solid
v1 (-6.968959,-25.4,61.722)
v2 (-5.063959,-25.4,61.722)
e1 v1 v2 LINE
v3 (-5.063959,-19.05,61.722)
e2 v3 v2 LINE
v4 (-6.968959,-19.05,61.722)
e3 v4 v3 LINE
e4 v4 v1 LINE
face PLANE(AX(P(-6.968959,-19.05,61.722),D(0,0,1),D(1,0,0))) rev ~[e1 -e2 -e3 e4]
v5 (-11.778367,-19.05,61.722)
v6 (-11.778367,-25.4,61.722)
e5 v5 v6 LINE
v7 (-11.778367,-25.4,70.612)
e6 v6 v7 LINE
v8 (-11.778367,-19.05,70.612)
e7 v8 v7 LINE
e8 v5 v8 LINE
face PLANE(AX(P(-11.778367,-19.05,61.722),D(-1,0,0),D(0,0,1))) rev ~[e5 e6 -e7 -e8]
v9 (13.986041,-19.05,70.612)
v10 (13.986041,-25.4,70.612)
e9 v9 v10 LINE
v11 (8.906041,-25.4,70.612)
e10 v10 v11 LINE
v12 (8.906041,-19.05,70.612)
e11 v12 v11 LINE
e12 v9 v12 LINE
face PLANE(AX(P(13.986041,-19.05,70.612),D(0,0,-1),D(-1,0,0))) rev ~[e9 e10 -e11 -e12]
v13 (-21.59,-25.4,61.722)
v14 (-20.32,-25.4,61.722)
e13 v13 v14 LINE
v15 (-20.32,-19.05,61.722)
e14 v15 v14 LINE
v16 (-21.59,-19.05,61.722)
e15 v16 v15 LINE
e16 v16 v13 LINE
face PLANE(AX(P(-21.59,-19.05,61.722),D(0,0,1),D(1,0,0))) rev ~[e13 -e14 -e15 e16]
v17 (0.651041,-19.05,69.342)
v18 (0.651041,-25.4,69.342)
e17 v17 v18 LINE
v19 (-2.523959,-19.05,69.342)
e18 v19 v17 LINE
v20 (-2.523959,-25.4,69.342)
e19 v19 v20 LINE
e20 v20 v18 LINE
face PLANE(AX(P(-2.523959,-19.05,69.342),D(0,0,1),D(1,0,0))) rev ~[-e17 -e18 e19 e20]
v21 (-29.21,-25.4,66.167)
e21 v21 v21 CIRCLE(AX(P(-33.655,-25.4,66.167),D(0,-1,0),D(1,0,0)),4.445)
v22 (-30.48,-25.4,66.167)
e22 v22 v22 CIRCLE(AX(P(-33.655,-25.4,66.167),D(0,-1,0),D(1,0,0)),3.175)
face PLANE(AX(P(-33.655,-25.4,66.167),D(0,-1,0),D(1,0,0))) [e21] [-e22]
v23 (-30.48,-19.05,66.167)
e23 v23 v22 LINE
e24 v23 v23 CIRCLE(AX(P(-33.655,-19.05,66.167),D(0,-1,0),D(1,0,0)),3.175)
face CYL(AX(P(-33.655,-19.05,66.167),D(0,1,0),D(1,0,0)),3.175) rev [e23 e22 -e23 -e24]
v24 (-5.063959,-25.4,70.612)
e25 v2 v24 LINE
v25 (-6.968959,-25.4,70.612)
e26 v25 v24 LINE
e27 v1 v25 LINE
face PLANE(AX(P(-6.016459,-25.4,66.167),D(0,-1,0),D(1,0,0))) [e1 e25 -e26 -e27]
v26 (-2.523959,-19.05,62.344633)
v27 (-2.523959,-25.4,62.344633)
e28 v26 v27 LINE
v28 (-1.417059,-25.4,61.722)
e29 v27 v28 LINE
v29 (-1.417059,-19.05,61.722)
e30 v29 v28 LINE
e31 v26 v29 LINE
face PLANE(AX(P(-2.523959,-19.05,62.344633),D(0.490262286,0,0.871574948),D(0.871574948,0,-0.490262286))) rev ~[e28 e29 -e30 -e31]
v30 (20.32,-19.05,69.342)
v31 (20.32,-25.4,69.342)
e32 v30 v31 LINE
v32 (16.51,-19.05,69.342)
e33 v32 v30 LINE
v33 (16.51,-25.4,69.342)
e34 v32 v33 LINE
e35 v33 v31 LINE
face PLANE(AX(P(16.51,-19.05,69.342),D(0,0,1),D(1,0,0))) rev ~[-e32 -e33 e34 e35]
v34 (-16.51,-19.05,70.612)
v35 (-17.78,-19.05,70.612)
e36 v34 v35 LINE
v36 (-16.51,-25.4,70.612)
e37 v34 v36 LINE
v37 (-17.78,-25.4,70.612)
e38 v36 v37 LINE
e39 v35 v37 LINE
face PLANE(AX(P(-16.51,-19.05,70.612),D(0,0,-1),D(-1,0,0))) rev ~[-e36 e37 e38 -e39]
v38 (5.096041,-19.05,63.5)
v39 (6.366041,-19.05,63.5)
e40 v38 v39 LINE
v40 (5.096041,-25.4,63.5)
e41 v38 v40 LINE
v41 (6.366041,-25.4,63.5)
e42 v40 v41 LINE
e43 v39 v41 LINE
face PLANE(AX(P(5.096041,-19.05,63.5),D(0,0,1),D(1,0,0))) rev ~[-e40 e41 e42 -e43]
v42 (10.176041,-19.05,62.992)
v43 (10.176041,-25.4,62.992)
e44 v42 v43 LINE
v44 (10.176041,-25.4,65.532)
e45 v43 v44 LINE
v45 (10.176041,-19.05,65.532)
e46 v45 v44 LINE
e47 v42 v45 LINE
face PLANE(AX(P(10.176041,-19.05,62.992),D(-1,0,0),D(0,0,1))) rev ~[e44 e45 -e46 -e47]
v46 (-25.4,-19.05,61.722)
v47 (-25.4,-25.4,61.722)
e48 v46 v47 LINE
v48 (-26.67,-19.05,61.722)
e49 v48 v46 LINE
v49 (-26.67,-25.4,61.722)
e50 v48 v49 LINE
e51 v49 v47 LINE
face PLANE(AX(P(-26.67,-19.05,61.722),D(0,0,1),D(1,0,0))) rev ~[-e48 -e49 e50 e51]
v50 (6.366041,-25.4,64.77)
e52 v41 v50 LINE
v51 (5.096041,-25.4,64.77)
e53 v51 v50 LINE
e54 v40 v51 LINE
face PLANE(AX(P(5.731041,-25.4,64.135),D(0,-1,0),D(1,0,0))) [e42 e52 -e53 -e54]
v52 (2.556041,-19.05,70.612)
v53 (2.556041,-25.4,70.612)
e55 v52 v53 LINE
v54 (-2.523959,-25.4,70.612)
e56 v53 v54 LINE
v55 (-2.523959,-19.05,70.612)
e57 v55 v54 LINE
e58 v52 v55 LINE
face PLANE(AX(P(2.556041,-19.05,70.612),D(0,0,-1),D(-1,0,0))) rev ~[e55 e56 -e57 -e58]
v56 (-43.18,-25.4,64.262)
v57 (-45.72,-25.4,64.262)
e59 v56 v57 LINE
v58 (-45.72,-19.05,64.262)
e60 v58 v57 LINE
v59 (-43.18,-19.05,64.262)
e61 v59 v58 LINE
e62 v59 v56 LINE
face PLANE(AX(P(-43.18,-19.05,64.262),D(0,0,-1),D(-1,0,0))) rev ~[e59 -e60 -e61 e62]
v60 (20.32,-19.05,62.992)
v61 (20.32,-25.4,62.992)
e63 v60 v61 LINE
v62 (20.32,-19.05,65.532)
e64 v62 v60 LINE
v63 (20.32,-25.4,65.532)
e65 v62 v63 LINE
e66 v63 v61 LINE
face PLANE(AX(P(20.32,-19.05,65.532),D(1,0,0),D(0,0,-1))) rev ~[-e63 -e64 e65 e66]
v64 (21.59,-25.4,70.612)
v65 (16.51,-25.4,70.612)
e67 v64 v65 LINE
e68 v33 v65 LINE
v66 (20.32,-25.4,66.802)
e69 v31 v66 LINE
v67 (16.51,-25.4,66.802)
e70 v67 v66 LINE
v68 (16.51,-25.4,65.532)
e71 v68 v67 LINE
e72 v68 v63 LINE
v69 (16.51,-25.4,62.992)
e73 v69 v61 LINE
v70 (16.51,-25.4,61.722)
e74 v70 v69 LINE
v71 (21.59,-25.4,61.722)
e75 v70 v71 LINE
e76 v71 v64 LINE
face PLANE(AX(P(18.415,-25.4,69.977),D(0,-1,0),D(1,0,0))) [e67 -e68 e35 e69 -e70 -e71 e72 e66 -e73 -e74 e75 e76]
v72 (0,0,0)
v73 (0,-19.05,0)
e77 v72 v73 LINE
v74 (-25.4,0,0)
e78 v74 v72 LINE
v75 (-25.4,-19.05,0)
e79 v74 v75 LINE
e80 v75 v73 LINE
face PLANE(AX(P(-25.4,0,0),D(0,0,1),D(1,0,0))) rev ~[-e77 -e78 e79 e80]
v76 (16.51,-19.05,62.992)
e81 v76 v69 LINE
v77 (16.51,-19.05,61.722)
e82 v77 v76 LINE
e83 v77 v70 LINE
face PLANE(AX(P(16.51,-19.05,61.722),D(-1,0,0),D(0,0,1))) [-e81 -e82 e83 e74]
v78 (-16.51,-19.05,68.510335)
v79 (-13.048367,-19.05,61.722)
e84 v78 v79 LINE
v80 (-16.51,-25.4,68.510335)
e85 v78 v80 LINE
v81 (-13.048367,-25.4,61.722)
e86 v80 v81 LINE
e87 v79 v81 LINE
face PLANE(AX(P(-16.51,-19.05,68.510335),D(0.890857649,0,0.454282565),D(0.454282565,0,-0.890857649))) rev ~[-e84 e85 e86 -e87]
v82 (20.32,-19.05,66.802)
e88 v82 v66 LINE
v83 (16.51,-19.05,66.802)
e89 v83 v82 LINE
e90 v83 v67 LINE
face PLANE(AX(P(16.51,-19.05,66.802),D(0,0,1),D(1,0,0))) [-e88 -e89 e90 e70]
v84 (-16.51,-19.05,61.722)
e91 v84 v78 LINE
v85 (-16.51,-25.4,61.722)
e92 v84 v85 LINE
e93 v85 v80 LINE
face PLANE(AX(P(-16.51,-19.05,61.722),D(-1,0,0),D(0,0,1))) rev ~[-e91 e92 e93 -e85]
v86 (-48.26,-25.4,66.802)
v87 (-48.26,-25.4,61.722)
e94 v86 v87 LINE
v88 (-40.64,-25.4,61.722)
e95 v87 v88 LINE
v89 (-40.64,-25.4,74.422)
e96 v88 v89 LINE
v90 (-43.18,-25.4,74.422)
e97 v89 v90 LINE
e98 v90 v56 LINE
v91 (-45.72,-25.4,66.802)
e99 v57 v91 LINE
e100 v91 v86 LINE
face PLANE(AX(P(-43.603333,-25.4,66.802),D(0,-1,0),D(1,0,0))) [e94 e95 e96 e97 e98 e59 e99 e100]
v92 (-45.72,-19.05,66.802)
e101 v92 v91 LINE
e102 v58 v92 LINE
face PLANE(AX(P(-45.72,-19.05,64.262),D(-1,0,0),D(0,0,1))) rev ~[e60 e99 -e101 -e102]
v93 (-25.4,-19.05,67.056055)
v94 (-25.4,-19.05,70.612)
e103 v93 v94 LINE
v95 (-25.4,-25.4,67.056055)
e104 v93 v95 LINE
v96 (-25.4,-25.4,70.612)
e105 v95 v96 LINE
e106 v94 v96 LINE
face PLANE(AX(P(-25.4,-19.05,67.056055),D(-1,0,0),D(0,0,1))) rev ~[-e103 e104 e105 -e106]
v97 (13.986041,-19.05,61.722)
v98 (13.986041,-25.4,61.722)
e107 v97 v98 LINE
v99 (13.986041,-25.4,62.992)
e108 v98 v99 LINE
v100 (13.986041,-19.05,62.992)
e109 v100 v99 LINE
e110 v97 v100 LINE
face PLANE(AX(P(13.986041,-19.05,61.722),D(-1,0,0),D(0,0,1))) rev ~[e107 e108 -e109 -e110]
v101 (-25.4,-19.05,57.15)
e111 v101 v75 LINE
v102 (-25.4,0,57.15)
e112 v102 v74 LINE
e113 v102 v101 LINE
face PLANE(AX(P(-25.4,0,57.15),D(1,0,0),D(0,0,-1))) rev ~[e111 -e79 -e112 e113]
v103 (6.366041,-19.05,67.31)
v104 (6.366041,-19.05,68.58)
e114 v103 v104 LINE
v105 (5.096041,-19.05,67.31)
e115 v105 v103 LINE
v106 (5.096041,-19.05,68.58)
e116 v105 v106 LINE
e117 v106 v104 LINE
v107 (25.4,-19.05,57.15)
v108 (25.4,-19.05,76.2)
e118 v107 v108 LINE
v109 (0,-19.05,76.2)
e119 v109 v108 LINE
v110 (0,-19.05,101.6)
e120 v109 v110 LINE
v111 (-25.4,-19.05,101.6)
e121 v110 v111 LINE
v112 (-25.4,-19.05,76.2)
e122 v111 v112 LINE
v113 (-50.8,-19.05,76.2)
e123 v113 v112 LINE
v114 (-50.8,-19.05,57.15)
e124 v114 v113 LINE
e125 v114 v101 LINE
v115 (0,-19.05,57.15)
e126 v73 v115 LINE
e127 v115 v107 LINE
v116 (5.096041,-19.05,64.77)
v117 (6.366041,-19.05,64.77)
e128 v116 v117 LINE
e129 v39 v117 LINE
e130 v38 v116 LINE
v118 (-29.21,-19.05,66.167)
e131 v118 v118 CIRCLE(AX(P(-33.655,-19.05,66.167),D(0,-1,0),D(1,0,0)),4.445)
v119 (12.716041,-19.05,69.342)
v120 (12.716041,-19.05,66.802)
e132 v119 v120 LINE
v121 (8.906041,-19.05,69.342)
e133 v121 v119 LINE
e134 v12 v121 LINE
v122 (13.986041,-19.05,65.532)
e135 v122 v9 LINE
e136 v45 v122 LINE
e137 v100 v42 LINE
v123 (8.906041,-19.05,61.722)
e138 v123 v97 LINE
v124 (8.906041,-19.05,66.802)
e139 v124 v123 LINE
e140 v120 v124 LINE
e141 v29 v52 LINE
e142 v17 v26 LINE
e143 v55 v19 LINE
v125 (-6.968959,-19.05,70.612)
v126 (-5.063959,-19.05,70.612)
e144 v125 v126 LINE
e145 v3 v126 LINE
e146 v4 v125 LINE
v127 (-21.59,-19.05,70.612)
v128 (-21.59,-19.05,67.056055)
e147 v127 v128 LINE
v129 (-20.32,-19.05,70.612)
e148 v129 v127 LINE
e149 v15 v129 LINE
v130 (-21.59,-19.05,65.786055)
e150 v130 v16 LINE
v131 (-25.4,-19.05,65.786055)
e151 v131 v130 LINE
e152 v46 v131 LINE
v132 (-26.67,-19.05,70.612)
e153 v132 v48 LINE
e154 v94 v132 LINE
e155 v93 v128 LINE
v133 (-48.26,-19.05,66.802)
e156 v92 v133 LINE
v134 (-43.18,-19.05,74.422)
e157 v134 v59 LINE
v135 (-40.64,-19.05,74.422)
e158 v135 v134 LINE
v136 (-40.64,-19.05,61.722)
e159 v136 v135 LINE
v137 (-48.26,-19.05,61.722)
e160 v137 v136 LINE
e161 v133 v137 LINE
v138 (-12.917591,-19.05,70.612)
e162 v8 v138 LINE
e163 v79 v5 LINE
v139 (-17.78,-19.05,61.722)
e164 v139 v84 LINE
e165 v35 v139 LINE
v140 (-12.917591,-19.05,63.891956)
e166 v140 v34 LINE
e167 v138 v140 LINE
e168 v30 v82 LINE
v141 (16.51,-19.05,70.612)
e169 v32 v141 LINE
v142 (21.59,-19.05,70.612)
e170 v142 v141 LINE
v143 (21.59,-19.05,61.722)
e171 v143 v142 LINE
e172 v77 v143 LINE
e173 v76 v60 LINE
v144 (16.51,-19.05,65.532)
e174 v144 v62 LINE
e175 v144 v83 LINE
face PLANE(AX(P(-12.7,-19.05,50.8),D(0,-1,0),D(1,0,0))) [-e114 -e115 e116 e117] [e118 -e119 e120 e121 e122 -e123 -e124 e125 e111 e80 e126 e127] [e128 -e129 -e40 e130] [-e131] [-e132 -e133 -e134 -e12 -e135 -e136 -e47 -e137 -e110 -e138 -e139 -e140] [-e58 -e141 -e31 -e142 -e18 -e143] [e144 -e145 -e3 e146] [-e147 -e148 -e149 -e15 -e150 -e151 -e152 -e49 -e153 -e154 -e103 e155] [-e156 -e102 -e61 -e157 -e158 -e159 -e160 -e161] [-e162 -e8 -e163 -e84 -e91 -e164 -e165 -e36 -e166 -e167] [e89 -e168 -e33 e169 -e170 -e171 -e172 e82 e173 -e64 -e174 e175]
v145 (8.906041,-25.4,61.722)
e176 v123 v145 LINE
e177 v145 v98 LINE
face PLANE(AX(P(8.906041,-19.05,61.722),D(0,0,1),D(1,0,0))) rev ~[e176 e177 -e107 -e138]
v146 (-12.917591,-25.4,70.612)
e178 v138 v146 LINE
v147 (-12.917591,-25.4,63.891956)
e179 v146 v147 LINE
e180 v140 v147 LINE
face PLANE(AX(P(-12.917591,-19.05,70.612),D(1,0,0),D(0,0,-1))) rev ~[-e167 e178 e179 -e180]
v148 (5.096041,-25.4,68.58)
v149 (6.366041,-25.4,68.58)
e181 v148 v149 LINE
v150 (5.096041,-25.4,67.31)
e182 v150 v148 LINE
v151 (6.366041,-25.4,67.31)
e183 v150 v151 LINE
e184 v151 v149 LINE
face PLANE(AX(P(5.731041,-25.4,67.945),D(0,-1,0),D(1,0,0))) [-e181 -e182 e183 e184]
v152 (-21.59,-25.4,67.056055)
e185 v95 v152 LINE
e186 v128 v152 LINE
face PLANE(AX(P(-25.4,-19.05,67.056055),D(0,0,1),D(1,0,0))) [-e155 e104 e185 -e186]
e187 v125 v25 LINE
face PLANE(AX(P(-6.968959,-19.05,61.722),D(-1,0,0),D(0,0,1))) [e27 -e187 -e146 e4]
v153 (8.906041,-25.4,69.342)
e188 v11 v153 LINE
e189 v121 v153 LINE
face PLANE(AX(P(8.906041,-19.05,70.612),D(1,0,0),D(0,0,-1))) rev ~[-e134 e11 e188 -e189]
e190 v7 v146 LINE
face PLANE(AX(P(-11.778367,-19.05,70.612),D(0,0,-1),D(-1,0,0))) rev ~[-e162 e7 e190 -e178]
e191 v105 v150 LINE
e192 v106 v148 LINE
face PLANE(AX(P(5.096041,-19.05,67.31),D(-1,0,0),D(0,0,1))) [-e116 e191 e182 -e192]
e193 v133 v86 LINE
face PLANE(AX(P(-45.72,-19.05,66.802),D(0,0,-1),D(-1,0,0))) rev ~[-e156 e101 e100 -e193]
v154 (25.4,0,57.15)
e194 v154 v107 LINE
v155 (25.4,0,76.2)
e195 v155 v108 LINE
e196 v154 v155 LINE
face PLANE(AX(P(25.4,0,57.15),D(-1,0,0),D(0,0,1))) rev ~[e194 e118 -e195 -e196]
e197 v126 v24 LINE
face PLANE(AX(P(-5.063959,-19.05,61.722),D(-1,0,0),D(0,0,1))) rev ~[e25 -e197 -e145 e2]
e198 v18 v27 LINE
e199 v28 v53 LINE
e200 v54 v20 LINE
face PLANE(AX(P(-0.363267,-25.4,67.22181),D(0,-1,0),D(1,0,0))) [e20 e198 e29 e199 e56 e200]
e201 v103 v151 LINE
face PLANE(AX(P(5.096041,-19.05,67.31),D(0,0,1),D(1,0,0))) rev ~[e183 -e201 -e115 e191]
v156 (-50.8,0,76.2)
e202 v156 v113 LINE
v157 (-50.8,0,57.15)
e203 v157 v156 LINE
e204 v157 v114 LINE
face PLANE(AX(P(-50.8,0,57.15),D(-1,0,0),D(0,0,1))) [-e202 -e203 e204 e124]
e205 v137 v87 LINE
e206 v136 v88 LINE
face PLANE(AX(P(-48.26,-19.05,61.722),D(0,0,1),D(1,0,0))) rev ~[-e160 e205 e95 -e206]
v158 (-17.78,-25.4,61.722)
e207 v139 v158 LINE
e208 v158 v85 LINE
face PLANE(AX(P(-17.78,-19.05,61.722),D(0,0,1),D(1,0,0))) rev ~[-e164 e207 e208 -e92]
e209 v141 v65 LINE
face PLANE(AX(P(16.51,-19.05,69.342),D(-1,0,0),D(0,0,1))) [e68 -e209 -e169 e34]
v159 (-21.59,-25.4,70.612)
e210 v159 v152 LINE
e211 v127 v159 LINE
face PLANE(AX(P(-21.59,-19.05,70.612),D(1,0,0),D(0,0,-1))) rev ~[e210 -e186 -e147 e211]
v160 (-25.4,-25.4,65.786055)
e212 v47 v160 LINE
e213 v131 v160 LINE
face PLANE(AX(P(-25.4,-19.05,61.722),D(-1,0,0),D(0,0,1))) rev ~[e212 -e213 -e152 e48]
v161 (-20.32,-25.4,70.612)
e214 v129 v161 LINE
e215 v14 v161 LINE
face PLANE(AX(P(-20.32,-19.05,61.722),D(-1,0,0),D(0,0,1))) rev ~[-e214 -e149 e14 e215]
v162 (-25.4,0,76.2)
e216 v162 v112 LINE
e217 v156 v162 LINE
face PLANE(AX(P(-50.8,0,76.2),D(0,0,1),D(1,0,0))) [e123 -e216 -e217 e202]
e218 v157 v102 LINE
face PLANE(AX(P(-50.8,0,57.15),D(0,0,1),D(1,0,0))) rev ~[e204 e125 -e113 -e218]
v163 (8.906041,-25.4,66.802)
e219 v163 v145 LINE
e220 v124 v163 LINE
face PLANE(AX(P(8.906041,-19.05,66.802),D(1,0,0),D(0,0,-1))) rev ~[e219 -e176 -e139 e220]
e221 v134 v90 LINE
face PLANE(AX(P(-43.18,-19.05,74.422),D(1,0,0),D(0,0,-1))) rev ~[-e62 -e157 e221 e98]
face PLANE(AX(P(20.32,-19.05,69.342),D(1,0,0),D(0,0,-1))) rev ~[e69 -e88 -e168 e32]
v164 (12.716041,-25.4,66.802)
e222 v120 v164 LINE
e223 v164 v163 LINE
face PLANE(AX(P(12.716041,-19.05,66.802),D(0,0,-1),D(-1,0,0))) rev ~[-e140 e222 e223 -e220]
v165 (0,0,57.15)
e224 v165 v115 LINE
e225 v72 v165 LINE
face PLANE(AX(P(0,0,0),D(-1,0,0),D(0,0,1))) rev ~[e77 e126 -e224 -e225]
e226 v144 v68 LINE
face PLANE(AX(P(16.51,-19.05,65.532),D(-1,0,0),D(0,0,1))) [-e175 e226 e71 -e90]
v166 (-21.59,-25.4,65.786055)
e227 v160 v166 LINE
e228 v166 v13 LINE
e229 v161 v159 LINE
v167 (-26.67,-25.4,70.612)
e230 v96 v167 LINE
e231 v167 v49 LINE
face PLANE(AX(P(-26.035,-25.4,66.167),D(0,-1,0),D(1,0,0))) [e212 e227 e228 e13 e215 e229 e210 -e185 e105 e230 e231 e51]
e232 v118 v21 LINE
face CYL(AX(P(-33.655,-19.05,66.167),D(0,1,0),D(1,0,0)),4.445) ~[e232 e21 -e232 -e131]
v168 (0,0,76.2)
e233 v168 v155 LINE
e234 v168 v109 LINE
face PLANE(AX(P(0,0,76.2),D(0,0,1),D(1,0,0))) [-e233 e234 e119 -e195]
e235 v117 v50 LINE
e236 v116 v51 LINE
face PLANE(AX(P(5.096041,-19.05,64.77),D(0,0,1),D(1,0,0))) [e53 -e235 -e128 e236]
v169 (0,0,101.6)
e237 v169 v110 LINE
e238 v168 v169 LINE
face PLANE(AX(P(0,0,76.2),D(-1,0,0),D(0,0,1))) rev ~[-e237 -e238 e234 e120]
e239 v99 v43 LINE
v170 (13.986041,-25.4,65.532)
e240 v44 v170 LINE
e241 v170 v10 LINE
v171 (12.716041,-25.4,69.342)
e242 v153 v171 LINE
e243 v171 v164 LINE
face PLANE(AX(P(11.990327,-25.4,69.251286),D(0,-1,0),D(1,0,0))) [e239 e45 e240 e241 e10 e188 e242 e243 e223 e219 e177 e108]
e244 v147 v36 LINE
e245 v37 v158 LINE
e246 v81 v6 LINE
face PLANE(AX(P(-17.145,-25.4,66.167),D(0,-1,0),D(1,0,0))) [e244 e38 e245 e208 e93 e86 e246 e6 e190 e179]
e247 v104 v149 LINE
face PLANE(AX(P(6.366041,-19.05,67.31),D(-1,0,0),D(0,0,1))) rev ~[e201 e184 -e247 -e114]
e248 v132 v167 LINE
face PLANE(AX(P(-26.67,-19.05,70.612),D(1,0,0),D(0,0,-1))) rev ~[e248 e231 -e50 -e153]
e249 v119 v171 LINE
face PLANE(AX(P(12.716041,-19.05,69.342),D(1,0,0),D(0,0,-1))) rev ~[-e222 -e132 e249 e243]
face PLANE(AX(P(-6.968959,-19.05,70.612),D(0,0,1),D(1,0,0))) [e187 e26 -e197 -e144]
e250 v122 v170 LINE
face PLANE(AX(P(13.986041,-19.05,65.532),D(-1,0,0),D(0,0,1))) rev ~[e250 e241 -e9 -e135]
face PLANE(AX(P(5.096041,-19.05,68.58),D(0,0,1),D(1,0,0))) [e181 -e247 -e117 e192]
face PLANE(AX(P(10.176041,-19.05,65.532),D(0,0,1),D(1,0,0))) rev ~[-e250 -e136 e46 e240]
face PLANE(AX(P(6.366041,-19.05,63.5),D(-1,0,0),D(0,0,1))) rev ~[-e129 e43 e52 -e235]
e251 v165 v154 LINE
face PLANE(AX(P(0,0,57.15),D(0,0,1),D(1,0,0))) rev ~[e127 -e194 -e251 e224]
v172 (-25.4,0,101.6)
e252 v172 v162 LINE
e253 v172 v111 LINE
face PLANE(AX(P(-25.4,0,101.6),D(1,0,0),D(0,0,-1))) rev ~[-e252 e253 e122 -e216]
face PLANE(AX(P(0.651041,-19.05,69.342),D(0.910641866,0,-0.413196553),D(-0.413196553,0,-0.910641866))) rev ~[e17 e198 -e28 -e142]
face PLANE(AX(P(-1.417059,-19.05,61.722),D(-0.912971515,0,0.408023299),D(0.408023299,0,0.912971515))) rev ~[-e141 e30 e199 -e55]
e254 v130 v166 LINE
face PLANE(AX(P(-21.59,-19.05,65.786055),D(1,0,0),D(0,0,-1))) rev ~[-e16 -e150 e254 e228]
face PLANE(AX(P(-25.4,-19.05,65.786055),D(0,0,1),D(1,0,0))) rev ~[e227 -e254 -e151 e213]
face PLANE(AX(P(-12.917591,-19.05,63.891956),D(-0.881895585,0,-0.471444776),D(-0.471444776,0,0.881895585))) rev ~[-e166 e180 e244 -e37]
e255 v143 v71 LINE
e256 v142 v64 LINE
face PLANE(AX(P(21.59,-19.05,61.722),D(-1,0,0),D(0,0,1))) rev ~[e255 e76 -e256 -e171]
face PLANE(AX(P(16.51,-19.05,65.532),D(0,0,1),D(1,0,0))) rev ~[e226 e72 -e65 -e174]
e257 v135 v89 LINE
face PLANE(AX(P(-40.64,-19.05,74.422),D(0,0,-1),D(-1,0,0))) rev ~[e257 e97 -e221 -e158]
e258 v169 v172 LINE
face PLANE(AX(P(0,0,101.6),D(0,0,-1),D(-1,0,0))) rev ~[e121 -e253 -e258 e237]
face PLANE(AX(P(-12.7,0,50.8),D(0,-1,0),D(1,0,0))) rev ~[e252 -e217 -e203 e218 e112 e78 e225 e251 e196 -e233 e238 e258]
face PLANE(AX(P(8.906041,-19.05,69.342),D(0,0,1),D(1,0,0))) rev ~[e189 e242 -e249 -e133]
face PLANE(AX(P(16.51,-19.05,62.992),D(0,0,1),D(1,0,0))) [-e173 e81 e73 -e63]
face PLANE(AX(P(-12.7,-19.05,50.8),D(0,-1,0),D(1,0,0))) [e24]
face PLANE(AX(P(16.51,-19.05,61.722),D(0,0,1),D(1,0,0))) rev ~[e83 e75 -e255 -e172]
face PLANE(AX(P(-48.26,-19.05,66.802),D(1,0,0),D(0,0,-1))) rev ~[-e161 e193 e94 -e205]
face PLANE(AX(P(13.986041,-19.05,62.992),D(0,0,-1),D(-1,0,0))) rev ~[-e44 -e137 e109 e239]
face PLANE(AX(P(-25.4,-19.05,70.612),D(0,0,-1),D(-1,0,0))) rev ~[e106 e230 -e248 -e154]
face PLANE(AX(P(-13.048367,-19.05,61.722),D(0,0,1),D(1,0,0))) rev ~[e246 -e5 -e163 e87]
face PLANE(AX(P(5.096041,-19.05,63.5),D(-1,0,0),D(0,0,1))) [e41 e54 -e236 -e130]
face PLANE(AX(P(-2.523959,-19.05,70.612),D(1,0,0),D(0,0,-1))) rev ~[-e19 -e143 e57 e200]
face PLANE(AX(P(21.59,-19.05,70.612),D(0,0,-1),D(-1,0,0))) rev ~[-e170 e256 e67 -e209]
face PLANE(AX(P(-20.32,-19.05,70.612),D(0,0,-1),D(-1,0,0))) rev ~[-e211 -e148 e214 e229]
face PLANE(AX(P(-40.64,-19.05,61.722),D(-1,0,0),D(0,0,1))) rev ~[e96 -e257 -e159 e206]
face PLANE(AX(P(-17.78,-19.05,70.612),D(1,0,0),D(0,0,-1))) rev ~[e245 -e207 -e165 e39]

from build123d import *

# Parameters (mm, degrees)
F0_W      = 25.4
F0_H      = 19.05
F1_DEPTH  = 19.05
F4_DEPTH  = 6.35
F5_R      = 4.445
F5_R_2    = 3.175
F6_DEPTH  = 6.35
F7_W      = 3.81
F7_H      = 1.27
F8_DEPTH  = 6.35
F10_DEPTH = 6.35
F11_W     = 1.905
F11_H     = 8.89
F12_DEPTH = 6.35
F14_DEPTH = 6.35
F15_W     = 1.27
F15_H     = 1.27
F16_DEPTH = 6.35
F18_DEPTH = 6.35
F19_W     = 3.81
F19_H     = 1.27
F20_DEPTH = 6.35


with BuildPart() as f1:
    # F0 (on Front) → F1 (new body)
    with BuildSketch(Plane.XZ):
        Polygon((-25.4, 0), (0, 0), (0, 57.15), (0, 76.2), (0, 101.6), (-25.4, 101.6), (-25.4, 76.2), (-25.4, 57.15), align=None)
        with Locations((12.7, 66.675)):
            Rectangle(F0_W, F0_H)
        with Locations((-38.1, 66.675)):
            Rectangle(F0_W, F0_H)
    extrude(amount=F1_DEPTH)

    # F3 (on offset) → F4 (join)
    with BuildSketch(Plane.XZ.offset(19.05)):
        Polygon((-45.72, 66.802), (-48.26, 66.802), (-48.26, 61.722), (-40.64, 61.722), (-40.64, 74.422), (-43.18, 74.422), (-43.18, 64.262), (-45.72, 64.262), align=None)
    extrude(amount=F4_DEPTH)

    # F5 (on offset) → F6 (join)
    with BuildSketch(Plane.XZ.offset(19.05)):
        with Locations((-33.655, 66.167)):
            Circle(F5_R)
        with Locations((-33.655, 66.167)):
            Circle(F5_R_2, mode=Mode.SUBTRACT)
    extrude(amount=F6_DEPTH)

    # F7 (on offset) → F8 (join)
    with BuildSketch(Plane.XZ.offset(19.05)):
        Polygon((-25.4, 70.612), (-26.67, 70.612), (-26.67, 61.722), (-25.4, 61.722), (-25.4, 65.786055), (-25.4, 67.056055), align=None)
        with Locations((-23.495, 66.421055)):
            Rectangle(F7_W, F7_H)
        Polygon((-21.59, 70.612), (-21.59, 67.056055), (-21.59, 65.786055), (-21.59, 61.722), (-20.32, 61.722), (-20.32, 70.612), align=None)
    extrude(amount=F8_DEPTH)

    # F9 (on offset) → F10 (join)
    with BuildSketch(Plane.XZ.offset(19.05)):
        Polygon((-17.78, 70.612), (-17.78, 61.722), (-16.51, 61.722), (-16.51, 68.510335), (-16.51, 70.612), align=None)
        Polygon((-12.917591, 63.891956), (-16.51, 70.612), (-16.51, 68.510335), (-13.048367, 61.722), (-12.917591, 61.722), align=None)
        Polygon((-12.917591, 70.612), (-12.917591, 63.891956), (-12.917591, 61.722), (-11.778367, 61.722), (-11.778367, 70.612), align=None)
    extrude(amount=F10_DEPTH)

    # F11 (on offset) → F12 (join)
    with BuildSketch(Plane.XZ.offset(19.05)):
        with Locations((-6.016459, 66.167)):
            Rectangle(F11_W, F11_H)
    extrude(amount=F12_DEPTH)

    # F13 (on offset) → F14 (join)
    with BuildSketch(Plane.XZ.offset(19.05)):
        Polygon((2.556041, 70.612), (-2.523959, 70.612), (-2.523959, 69.342), (0.651041, 69.342), (-2.523959, 62.344633), (-1.417059, 61.722), align=None)
    extrude(amount=F14_DEPTH)

    # F15 (on offset) → F16 (join)
    with BuildSketch(Plane.XZ.offset(19.05)):
        with Locations((5.731041, 67.945)):
            Rectangle(F15_W, F15_H)
        with Locations((5.731041, 64.135)):
            Rectangle(F15_W, F15_H)
    extrude(amount=F16_DEPTH)

    # F17 (on offset) → F18 (join)
    with BuildSketch(Plane.XZ.offset(19.05)):
        Polygon((13.986041, 70.612), (8.906041, 70.612), (8.906041, 69.342), (12.716041, 69.342), (12.716041, 66.802), (13.986041, 66.802), align=None)
        Polygon((13.986041, 65.532), (13.986041, 66.802), (12.716041, 66.802), (8.906041, 66.802), (8.906041, 61.722), (13.986041, 61.722), (13.986041, 62.992), (10.176041, 62.992), (10.176041, 65.532), align=None)
    extrude(amount=F18_DEPTH)

    # F19 (on offset) → F20 (join)
    with BuildSketch(Plane.XZ.offset(19.05)):
        with Locations((18.415, 69.977)):
            Rectangle(F19_W, F19_H)
        Polygon((20.32, 70.612), (20.32, 69.342), (20.32, 66.802), (20.32, 65.532), (20.32, 62.992), (20.32, 61.722), (21.59, 61.722), (21.59, 70.612), align=None)
        with Locations((18.415, 66.167)):
            Rectangle(F19_W, F19_H)
        with Locations((18.415, 62.357)):
            Rectangle(F19_W, F19_H)
    extrude(amount=F20_DEPTH)


solid = f1.part
